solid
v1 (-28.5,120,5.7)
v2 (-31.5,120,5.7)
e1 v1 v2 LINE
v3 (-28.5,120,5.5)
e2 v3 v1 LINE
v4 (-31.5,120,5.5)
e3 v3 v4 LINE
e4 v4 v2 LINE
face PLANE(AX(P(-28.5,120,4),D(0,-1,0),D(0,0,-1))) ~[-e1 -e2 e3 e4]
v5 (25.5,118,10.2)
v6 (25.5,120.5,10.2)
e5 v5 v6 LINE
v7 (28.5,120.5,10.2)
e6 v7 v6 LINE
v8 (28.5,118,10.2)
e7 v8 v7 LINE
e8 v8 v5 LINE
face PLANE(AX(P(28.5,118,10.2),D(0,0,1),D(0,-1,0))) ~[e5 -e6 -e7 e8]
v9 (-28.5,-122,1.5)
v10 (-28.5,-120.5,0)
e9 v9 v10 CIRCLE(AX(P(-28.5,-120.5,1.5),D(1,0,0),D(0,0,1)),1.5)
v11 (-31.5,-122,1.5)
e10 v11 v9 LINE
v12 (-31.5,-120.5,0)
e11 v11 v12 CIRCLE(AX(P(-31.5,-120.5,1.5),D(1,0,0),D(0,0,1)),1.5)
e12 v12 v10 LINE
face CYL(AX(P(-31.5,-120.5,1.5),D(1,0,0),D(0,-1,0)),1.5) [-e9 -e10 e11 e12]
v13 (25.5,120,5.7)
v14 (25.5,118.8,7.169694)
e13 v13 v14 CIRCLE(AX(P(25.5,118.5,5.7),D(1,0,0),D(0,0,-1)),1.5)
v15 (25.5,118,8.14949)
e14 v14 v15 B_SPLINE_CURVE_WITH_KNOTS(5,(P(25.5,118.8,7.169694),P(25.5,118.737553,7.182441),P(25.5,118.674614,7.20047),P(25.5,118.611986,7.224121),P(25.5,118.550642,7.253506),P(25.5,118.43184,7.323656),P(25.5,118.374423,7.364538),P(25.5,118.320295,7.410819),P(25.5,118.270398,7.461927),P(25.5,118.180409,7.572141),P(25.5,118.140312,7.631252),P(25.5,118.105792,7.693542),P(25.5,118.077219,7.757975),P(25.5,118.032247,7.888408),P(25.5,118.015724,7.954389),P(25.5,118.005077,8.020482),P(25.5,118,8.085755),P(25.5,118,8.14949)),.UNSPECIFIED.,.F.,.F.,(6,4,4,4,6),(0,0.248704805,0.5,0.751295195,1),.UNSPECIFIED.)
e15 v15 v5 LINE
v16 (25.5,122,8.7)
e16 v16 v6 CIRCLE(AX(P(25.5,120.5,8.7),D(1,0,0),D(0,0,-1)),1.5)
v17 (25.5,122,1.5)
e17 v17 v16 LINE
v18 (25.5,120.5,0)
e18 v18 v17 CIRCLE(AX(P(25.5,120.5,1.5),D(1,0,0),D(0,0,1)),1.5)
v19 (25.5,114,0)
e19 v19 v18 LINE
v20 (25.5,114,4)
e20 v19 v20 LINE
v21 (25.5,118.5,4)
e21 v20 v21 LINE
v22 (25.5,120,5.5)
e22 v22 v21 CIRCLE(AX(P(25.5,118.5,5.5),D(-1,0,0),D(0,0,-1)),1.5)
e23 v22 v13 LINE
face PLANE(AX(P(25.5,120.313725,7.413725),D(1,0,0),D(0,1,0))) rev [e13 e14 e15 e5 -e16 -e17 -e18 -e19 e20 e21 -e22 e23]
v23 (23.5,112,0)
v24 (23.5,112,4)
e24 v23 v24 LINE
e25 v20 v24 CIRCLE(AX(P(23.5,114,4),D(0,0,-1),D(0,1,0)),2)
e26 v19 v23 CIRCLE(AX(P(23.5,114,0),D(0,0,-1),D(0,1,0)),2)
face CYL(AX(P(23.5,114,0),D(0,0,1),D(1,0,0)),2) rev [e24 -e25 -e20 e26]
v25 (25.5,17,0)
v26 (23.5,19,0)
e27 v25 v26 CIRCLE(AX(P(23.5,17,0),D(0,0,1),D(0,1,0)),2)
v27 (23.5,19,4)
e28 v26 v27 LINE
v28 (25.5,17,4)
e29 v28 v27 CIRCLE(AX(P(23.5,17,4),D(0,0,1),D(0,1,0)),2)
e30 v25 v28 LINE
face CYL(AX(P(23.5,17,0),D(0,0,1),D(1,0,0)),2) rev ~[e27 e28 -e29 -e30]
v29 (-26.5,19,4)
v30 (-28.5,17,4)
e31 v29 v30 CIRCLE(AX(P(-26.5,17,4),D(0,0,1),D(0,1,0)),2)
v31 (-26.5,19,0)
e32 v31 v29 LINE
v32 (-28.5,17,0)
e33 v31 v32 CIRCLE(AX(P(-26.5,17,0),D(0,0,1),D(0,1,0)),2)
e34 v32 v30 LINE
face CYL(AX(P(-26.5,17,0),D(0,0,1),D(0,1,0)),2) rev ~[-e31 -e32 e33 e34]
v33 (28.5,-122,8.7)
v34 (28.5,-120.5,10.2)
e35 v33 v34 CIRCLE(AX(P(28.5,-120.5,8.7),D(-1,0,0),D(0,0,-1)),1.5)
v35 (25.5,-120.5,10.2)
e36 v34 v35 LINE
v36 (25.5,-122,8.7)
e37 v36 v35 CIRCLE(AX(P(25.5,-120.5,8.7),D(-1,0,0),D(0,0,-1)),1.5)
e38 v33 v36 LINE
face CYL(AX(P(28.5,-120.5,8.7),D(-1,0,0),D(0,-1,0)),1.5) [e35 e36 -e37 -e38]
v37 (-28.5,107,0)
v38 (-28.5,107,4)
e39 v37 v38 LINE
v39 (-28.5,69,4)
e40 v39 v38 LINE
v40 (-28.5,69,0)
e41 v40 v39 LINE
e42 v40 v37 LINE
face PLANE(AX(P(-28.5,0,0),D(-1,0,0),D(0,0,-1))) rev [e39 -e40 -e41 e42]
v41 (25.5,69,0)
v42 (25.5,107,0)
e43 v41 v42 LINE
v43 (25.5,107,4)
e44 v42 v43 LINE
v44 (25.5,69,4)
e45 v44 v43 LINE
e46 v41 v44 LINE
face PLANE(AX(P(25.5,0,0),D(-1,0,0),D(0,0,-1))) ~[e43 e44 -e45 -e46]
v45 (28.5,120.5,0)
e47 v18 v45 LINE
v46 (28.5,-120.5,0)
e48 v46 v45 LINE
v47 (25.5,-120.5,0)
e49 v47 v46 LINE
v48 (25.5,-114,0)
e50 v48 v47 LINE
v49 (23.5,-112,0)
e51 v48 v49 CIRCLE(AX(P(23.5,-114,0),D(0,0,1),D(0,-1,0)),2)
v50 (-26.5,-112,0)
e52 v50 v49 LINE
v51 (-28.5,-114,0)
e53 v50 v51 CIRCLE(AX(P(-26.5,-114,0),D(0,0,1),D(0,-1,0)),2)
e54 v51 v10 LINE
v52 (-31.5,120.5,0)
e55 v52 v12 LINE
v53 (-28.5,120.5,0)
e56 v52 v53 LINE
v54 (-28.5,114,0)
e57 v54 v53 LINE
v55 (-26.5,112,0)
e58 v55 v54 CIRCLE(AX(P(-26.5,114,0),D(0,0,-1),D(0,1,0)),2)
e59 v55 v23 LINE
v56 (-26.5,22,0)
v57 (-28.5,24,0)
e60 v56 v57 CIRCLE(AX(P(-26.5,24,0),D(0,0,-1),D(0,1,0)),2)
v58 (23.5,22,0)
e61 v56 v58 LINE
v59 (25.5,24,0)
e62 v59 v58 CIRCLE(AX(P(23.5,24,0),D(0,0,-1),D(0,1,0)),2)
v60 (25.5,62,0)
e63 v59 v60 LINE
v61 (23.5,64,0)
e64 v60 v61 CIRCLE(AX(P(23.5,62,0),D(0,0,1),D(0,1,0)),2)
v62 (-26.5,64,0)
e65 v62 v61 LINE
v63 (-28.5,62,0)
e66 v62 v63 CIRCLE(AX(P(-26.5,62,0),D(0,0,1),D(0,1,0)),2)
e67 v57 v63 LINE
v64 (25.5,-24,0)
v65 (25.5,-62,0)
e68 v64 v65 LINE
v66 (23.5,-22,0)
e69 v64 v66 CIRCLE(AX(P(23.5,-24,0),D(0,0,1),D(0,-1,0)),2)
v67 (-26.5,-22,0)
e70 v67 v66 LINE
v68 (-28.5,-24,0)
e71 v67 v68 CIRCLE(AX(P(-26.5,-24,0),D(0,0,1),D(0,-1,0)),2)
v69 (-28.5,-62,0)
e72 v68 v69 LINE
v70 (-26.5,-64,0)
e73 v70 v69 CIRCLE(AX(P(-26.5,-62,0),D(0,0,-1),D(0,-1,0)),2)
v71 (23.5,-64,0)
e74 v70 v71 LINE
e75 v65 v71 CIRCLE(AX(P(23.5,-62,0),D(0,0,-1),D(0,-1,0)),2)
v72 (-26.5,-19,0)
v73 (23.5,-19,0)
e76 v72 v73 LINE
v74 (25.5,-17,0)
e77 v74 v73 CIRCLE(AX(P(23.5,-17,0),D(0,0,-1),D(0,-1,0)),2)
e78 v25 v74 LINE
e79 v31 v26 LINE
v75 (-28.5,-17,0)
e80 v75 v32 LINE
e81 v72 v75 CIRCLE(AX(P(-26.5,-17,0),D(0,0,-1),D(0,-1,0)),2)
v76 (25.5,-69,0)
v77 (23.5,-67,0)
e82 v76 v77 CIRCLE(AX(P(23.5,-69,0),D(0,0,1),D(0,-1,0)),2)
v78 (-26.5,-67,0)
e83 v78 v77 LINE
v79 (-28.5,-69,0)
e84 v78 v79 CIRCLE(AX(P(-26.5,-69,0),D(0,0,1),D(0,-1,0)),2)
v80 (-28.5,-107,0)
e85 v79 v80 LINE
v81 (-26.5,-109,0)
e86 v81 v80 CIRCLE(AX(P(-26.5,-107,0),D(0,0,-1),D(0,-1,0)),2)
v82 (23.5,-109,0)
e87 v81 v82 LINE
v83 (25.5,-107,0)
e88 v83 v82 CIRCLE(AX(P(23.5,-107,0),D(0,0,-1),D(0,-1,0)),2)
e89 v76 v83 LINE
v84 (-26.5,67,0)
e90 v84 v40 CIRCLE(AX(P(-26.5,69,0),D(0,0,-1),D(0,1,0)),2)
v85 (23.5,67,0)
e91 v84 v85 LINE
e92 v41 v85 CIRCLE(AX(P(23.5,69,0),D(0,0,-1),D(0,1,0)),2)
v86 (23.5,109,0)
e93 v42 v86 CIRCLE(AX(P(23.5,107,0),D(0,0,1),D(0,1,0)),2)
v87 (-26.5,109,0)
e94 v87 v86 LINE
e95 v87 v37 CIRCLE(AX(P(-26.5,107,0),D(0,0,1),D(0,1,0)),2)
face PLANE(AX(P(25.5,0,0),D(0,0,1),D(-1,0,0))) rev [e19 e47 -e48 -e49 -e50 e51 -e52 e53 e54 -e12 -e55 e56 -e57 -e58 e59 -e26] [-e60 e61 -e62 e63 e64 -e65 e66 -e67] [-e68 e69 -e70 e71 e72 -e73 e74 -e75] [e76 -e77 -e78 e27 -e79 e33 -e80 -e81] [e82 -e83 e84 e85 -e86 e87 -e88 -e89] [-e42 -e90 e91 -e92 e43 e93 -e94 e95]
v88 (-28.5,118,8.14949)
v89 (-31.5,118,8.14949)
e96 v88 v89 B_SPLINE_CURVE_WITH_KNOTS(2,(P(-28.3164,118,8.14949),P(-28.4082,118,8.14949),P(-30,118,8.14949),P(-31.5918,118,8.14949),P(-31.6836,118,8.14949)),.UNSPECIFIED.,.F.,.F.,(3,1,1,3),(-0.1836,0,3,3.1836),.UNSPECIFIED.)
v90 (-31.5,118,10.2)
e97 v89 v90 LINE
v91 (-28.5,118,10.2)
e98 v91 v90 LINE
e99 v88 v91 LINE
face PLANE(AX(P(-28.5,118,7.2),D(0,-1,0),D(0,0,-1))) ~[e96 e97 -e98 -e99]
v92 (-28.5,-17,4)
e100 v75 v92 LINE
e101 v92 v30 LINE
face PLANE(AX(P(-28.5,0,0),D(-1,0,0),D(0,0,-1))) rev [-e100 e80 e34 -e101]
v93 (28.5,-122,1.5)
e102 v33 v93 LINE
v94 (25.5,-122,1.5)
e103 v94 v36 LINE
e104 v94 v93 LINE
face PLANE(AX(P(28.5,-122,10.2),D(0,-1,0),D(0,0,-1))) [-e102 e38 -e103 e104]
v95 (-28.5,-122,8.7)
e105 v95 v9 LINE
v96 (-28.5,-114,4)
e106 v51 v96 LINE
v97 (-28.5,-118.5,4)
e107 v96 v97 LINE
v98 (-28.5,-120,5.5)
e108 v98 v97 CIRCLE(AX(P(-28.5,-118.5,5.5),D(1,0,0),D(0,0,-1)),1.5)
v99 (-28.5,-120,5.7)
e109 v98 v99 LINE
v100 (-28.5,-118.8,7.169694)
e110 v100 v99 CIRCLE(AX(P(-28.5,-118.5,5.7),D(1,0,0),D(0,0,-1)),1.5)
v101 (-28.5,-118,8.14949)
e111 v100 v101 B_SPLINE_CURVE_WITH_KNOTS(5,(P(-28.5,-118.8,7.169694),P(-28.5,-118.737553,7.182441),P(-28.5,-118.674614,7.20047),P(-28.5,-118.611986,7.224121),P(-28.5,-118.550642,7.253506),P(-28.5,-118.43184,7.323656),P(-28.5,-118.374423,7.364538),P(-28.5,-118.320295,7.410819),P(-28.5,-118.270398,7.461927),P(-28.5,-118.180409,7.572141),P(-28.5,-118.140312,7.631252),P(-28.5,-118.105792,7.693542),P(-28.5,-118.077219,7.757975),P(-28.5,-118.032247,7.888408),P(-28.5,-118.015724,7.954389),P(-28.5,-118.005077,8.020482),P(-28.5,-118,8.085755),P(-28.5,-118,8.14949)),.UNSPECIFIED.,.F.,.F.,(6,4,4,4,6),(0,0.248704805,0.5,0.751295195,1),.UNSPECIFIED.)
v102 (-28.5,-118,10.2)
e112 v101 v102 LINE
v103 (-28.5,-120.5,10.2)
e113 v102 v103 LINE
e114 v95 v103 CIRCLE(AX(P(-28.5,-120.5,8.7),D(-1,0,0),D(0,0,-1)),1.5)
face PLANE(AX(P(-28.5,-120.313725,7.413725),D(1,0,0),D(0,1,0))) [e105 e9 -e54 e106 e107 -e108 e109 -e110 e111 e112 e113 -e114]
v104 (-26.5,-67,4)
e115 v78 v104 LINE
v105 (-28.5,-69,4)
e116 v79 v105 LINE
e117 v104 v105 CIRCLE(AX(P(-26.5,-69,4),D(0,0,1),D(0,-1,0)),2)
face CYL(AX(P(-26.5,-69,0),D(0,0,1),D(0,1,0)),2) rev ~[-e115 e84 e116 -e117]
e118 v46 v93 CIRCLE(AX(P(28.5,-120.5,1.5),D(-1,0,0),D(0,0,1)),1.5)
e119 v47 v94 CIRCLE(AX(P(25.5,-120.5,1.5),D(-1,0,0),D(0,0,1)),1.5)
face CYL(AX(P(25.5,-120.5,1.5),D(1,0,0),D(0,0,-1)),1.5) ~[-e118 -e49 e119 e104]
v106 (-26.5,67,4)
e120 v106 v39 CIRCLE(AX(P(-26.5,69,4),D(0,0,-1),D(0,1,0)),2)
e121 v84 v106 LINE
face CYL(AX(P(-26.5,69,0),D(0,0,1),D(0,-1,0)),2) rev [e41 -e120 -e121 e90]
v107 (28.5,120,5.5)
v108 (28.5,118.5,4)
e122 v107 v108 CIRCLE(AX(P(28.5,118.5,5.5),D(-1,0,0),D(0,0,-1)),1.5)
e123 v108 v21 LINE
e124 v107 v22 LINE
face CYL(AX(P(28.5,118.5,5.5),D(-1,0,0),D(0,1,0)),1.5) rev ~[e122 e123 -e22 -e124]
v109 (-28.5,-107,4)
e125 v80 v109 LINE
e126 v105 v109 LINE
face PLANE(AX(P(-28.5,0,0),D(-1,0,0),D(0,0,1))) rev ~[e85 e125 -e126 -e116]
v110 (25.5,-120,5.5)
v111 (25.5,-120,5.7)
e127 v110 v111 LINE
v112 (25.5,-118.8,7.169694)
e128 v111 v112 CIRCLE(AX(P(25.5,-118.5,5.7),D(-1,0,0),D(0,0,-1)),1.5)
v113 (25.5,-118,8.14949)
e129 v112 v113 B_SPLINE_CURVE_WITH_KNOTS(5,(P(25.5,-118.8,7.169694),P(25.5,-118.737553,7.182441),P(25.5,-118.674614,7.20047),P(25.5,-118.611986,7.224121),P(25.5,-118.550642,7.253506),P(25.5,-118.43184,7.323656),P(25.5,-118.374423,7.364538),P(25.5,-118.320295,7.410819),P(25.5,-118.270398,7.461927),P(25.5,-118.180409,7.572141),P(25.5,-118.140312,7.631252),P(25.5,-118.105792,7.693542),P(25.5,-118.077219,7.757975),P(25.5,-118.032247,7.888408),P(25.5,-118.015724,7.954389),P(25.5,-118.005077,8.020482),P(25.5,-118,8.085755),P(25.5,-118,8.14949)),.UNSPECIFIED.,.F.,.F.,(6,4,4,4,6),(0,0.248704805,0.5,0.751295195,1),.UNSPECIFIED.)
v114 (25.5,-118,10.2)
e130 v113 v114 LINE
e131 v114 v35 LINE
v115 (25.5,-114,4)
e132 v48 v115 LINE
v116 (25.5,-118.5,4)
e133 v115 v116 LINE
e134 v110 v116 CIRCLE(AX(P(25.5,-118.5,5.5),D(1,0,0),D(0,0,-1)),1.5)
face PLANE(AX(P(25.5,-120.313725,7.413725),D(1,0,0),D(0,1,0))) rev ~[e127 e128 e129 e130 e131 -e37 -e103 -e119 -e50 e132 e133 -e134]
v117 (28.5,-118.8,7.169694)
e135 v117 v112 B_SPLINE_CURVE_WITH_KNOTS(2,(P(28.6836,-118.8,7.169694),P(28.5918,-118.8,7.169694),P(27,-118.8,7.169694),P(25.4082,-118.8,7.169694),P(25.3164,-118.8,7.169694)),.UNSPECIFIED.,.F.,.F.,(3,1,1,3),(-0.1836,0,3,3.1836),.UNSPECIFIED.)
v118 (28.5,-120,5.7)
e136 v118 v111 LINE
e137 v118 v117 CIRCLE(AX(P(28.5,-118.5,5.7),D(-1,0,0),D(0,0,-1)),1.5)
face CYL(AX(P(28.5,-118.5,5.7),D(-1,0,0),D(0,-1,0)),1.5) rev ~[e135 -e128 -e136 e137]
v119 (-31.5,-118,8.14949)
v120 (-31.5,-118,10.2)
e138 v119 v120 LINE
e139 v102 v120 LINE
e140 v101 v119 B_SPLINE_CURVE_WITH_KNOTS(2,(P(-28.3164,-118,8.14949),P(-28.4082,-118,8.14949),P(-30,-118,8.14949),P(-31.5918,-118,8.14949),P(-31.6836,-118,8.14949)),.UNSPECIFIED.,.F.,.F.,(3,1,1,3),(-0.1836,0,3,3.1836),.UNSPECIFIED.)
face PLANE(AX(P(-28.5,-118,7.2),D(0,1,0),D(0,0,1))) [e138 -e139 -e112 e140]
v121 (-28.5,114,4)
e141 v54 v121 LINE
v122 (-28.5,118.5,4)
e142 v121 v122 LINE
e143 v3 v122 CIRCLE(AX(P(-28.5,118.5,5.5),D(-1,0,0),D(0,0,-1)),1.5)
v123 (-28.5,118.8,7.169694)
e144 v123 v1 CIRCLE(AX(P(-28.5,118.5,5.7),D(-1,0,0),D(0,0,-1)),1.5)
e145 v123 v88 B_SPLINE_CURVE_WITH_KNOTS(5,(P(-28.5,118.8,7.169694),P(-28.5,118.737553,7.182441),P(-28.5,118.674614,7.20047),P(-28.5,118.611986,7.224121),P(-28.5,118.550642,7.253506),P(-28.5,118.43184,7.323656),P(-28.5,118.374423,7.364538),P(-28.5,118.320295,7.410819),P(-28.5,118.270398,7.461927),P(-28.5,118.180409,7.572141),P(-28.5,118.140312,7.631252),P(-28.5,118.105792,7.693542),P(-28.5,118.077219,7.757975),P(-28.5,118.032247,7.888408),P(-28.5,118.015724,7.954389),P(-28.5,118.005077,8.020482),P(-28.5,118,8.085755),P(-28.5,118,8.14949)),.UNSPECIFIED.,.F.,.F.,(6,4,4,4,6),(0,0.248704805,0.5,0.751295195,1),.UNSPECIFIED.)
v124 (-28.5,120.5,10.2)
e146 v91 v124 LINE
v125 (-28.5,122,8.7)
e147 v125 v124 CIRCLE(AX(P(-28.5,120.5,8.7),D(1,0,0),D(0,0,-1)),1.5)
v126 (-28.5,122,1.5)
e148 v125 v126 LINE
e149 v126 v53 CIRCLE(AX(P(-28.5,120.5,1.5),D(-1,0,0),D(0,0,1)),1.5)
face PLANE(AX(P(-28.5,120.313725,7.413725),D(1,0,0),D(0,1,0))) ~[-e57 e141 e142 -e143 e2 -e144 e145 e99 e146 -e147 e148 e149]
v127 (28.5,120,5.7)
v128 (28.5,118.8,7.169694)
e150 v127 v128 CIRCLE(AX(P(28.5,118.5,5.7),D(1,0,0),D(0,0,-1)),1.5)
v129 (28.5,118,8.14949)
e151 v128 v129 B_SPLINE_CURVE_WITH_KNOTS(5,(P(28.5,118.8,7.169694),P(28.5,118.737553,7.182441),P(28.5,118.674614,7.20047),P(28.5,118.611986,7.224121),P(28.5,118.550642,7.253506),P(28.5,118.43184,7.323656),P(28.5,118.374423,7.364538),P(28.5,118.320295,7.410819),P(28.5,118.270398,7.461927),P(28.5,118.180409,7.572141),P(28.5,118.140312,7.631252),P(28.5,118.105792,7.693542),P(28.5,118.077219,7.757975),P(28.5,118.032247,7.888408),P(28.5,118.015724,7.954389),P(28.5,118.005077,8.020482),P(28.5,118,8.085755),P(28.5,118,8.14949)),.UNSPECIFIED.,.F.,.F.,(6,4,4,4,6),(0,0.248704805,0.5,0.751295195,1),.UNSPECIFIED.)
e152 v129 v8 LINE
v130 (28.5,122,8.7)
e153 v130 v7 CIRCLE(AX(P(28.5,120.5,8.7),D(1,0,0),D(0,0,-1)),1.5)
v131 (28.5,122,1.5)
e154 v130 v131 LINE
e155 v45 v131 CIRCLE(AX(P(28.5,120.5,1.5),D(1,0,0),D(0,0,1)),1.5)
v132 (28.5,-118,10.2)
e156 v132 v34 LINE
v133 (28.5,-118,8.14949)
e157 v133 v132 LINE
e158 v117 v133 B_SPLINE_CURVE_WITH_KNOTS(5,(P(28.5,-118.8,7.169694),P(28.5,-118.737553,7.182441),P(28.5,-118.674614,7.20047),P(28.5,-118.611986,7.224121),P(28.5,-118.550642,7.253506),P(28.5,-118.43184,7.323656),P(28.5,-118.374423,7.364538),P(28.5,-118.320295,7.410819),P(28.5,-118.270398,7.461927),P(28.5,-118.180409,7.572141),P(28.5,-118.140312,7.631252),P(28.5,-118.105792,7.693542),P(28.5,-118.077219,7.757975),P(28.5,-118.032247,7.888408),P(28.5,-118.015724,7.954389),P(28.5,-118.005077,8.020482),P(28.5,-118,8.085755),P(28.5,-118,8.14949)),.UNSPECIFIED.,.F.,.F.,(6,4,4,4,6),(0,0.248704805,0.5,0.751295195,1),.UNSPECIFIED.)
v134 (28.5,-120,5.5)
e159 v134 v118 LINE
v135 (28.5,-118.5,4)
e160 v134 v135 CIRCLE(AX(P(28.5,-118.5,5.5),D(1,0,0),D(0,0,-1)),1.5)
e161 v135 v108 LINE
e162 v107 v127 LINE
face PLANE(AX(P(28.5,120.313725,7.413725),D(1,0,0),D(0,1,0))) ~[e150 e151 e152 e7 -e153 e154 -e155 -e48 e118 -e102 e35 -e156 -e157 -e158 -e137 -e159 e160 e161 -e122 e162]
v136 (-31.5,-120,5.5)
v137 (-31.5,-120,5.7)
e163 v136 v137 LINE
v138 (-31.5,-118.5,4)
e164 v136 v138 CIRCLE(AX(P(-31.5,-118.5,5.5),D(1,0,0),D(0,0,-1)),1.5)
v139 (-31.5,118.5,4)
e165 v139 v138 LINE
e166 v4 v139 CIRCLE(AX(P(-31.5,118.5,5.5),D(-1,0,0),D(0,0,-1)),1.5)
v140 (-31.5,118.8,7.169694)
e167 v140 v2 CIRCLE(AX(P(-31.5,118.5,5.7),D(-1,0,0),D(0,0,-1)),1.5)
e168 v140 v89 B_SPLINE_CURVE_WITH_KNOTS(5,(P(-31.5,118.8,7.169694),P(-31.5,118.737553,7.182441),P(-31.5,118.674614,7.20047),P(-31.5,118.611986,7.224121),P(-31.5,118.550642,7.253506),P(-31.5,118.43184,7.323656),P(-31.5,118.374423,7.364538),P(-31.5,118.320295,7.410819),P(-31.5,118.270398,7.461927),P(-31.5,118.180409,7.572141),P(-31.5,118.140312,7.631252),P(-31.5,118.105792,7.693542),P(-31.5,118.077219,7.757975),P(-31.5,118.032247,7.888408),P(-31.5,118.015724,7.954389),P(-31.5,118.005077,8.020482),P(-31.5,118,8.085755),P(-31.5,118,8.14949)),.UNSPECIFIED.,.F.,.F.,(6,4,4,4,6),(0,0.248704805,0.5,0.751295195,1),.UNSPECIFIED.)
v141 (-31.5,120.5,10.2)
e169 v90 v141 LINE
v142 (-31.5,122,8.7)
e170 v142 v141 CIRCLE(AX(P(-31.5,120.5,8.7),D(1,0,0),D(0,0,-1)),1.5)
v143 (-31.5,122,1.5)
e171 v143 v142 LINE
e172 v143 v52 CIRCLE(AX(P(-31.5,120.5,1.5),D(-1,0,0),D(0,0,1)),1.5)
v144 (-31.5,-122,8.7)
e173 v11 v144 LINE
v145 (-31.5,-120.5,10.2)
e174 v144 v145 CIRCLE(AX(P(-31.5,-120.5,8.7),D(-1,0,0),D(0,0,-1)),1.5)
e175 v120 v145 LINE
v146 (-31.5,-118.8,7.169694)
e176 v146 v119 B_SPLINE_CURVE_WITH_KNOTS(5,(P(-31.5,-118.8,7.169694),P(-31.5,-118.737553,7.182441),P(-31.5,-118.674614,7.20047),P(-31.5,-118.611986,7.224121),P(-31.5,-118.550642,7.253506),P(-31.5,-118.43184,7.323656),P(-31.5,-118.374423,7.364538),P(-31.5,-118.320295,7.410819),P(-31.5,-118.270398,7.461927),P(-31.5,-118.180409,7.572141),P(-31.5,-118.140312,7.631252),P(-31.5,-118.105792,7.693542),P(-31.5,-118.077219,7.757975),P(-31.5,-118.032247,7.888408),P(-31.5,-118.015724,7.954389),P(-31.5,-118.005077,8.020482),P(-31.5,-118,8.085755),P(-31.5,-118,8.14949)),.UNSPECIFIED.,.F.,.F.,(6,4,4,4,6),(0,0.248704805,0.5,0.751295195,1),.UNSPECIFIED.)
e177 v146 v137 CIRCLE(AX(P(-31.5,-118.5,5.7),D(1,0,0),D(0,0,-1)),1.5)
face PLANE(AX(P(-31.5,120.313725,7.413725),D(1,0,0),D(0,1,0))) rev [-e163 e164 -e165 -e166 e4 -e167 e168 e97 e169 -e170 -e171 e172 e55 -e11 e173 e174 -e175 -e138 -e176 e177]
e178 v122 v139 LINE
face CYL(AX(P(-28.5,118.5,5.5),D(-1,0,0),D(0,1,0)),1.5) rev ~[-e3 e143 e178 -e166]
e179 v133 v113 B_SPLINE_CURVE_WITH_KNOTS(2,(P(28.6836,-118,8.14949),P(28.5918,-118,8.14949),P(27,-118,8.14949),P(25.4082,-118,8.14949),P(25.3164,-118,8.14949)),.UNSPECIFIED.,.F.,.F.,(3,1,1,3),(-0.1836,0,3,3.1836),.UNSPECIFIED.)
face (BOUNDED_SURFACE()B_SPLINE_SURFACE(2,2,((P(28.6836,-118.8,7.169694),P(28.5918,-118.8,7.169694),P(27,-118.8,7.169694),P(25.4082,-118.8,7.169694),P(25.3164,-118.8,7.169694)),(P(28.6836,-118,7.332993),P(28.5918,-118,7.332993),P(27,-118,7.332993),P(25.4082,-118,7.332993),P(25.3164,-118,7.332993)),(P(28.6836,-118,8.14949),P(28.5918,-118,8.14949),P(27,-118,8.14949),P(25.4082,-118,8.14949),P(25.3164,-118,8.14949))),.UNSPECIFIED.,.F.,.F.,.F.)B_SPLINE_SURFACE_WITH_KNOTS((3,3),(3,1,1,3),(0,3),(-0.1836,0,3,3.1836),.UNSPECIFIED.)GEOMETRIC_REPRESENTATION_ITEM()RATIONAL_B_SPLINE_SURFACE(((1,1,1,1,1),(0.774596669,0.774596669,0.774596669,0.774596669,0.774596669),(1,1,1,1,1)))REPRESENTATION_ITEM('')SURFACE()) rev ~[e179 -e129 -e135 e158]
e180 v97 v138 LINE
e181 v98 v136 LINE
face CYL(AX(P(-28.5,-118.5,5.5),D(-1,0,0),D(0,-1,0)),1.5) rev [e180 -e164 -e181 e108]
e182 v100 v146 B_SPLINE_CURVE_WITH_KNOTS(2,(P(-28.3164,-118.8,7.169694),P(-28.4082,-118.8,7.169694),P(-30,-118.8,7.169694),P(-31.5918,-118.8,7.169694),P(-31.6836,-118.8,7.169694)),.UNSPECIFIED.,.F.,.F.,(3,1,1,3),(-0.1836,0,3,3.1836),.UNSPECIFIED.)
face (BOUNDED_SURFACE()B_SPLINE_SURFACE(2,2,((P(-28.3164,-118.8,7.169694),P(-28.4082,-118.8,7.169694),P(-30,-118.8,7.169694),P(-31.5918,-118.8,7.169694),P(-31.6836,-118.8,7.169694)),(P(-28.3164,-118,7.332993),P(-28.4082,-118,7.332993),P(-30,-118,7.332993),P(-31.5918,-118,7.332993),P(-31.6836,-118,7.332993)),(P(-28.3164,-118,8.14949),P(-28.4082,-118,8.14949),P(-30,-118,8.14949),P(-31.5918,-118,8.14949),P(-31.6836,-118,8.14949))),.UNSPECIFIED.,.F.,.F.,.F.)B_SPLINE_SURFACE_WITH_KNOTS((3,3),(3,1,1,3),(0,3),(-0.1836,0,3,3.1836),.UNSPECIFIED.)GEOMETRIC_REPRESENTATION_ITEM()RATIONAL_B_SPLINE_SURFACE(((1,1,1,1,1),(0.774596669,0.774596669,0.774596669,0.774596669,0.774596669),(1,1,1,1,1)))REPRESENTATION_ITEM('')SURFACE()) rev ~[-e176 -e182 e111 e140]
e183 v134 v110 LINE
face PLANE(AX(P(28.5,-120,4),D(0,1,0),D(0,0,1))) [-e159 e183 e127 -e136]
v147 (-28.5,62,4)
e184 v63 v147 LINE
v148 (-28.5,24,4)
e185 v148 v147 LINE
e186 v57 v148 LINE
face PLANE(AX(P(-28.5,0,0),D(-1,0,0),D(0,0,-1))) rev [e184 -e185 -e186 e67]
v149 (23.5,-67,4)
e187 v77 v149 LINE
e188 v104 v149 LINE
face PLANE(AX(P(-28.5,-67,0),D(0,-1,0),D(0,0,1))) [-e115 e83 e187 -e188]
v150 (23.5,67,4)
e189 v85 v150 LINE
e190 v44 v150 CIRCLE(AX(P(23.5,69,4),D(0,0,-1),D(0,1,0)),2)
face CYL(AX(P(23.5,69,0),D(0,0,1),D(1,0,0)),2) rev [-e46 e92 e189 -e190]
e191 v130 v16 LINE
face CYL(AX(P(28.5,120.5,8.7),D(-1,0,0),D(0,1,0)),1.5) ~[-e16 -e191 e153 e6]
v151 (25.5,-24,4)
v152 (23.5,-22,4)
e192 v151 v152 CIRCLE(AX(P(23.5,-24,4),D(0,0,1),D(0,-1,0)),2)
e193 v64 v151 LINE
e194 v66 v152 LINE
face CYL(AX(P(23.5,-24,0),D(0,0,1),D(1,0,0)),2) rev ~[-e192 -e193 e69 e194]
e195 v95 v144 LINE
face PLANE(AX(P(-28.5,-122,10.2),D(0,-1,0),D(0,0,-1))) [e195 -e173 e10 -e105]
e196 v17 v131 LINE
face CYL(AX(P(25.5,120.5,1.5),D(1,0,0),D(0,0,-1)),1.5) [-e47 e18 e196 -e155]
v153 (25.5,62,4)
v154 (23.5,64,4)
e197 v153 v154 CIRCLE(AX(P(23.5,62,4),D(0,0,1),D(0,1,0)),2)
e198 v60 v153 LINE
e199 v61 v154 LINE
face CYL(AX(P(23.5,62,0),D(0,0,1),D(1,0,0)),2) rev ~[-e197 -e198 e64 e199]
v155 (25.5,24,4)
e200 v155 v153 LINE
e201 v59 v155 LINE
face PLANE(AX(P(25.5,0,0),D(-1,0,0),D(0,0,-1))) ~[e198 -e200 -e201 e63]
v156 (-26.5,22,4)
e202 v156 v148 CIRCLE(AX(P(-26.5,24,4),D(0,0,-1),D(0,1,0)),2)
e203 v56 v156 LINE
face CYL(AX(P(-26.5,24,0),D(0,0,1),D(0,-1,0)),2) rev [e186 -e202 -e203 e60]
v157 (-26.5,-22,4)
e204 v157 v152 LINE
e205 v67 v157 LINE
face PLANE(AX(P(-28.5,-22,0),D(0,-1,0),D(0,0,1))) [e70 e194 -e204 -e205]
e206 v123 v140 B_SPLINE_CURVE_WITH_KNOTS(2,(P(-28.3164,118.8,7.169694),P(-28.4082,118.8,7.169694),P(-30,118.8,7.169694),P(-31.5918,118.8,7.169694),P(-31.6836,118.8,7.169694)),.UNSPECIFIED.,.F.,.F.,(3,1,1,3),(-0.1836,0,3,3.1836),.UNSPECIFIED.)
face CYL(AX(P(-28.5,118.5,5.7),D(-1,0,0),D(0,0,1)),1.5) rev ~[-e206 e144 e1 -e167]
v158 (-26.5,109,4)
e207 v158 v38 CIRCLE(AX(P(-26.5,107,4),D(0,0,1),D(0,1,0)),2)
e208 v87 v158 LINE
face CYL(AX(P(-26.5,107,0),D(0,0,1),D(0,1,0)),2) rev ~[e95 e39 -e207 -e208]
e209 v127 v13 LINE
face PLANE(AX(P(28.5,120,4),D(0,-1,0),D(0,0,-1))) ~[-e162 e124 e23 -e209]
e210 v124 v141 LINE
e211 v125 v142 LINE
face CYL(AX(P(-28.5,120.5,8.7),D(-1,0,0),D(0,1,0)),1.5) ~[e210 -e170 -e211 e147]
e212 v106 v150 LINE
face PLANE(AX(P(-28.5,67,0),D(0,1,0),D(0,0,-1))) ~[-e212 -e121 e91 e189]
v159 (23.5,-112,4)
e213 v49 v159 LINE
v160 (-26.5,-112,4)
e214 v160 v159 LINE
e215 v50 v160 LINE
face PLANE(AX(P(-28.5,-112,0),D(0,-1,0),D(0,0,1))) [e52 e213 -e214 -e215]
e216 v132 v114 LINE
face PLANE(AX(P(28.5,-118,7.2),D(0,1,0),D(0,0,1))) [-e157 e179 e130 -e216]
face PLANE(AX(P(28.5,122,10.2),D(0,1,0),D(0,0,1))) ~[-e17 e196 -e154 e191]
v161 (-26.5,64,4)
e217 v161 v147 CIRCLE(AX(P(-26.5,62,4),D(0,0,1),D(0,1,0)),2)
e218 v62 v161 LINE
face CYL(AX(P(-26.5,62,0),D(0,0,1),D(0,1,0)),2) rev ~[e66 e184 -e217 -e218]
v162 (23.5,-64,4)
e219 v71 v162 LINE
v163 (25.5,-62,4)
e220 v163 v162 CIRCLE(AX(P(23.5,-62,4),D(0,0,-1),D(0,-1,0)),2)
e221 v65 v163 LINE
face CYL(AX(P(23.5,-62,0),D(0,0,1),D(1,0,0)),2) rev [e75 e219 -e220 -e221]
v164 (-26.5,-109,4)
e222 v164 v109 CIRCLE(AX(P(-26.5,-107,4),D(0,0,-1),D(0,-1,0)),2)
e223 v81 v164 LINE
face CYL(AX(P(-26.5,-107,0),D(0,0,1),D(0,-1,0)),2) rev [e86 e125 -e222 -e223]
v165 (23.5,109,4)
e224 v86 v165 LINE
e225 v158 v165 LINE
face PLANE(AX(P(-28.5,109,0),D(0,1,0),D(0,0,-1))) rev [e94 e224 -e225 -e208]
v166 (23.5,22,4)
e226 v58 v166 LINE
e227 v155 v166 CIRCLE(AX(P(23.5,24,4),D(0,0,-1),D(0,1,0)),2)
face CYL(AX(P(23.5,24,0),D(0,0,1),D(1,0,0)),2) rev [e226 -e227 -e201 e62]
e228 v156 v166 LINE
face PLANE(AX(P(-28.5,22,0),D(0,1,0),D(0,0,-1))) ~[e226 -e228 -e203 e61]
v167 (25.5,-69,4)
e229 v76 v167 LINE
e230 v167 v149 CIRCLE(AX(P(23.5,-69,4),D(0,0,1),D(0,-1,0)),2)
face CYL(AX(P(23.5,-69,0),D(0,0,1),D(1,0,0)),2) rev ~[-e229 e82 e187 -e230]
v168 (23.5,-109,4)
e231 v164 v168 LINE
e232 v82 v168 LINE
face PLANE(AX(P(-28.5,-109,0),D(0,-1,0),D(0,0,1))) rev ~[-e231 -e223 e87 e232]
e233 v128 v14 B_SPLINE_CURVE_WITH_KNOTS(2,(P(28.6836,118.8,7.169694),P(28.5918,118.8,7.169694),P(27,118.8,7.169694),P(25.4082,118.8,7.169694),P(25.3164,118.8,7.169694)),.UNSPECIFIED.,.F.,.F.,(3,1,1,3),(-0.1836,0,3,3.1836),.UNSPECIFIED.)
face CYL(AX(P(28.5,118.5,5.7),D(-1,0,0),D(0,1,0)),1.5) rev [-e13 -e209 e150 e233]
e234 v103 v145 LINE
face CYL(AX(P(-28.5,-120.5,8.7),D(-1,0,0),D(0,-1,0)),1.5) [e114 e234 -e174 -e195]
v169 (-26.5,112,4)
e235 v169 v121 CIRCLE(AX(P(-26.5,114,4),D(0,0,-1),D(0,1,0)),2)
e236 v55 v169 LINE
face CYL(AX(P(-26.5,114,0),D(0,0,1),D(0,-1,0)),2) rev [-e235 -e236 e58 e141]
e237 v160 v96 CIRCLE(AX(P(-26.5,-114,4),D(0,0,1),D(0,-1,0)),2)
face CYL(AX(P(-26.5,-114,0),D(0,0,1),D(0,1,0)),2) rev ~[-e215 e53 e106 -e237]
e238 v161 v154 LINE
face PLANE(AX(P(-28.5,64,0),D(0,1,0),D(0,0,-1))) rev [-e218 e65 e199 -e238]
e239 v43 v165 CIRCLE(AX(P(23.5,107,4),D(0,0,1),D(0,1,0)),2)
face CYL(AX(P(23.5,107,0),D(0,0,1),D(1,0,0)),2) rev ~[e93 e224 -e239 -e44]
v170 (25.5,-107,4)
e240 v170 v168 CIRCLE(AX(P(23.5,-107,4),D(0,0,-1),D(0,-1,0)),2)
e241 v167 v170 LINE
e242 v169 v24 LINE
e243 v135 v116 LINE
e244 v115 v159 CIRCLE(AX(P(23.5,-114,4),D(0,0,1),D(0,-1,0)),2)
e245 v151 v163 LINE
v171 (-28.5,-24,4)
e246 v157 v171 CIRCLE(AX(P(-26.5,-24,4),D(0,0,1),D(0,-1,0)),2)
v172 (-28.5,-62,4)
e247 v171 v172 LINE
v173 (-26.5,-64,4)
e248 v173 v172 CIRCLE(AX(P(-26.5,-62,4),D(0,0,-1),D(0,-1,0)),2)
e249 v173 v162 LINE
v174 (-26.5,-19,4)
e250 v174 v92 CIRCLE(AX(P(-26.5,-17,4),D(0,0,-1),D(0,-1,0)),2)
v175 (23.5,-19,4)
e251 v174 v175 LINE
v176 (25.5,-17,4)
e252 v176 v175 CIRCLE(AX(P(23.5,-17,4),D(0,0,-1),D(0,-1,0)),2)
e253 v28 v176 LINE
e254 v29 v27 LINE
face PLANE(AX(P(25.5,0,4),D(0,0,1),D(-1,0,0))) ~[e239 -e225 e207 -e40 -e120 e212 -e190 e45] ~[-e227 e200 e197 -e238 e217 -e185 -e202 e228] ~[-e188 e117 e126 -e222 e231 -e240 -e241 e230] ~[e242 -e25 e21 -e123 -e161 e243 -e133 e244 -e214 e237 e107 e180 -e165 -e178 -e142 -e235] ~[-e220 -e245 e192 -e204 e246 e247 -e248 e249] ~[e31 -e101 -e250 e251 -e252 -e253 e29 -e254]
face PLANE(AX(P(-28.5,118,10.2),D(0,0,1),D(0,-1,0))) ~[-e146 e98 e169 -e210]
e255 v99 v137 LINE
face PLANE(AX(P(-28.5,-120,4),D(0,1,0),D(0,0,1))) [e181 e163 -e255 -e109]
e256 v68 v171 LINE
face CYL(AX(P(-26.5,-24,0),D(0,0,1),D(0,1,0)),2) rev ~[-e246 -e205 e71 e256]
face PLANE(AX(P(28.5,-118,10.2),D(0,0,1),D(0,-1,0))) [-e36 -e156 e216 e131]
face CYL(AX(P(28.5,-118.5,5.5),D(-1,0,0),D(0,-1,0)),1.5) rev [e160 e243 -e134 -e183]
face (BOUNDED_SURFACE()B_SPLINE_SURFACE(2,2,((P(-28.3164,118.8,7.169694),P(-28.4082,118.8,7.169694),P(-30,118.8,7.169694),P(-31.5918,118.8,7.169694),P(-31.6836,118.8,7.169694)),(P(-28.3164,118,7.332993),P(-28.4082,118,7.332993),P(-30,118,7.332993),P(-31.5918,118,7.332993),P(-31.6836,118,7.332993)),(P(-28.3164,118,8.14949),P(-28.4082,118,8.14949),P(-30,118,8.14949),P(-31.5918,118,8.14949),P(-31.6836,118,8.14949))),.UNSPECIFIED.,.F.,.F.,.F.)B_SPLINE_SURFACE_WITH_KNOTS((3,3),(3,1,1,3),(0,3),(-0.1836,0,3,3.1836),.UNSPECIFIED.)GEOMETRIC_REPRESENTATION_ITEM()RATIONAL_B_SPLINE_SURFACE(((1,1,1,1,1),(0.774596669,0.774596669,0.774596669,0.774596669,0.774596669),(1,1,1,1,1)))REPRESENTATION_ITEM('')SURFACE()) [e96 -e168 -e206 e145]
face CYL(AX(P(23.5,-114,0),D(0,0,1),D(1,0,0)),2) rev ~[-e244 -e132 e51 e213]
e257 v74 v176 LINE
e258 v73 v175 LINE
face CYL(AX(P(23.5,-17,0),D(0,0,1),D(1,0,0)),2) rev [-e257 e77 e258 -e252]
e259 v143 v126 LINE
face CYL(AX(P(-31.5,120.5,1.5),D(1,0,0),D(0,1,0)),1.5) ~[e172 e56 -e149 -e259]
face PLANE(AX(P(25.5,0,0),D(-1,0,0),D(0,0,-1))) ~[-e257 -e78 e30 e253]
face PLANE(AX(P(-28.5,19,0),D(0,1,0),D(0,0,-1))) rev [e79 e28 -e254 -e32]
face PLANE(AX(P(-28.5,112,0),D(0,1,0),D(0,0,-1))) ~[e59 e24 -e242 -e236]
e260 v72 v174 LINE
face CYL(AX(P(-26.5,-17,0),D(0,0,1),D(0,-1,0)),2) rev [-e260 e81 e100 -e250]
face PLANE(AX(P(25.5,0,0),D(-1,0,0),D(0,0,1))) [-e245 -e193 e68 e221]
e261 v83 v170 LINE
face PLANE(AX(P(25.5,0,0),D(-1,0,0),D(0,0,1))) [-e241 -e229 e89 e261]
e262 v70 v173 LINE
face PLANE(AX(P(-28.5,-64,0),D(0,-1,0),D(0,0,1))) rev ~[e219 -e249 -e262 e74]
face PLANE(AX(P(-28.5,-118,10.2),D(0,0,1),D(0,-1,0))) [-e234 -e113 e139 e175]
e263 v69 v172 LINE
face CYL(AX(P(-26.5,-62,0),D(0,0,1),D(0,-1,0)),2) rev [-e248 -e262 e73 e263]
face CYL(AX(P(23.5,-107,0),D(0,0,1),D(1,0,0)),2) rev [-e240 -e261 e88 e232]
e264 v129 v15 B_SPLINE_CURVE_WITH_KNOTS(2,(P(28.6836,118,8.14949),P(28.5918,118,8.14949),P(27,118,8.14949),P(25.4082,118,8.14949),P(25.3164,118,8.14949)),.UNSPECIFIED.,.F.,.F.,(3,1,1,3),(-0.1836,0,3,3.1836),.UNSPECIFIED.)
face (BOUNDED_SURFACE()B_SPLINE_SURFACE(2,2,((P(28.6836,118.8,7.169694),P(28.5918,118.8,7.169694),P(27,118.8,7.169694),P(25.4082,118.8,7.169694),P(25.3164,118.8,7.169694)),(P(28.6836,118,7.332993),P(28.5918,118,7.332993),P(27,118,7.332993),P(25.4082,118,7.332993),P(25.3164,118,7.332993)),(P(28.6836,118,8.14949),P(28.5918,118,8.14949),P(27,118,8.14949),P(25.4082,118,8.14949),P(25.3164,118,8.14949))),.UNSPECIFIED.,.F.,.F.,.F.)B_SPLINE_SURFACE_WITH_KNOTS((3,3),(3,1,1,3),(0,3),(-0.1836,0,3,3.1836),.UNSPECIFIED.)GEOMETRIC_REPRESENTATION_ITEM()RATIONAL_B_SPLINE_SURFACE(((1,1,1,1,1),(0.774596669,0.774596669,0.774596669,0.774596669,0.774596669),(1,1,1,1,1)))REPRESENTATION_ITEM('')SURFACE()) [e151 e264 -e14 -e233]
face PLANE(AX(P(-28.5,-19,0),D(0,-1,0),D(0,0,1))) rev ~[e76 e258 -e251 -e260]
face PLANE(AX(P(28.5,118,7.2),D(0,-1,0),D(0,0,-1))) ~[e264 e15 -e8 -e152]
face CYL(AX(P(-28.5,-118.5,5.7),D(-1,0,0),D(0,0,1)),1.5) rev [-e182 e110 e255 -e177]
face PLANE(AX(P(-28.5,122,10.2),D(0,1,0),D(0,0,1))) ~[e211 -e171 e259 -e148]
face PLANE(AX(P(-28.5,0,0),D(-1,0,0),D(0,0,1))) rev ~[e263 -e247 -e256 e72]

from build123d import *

# Parameters (mm, degrees)
F0_W     = 3
F0_H     = 4
F1_DEPTH = 122
F2_W     = 3
F2_H     = 4
F3_DEPTH = 54
F6_DEPTH = 3
F8_DEPTH = 3
F9_R     = 1.5
F10_R    = 1
F11_R    = 2


with BuildPart() as f1:
    # F0 (on Front) → F1 (new body)
    with BuildSketch(Plane.XZ):
        with Locations((-30, 2)):
            Rectangle(F0_W, F0_H)
    extrude(amount=F1_DEPTH)


with BuildPart() as f1b:
    # F0 (on Front) → F1, piece 2 (new body)
    with BuildSketch(Plane.XZ):
        with Locations((27, 2)):
            Rectangle(F0_W, F0_H)
    extrude(amount=F1_DEPTH)


with BuildPart() as f3:
    # F2 (on face) → F3 (new body, through all)
    with BuildSketch(Plane.YZ.offset(-28.5)):
        with Locations((-110.5, 2)):
            Rectangle(F2_W, F2_H)
    extrude(amount=F3_DEPTH)


with BuildPart() as f3b:
    # F2 (on face) → F3, piece 2 (new body, through all)
    with BuildSketch(Plane.YZ.offset(-28.5)):
        with Locations((-65.5, 2)):
            Rectangle(F2_W, F2_H)
    extrude(amount=F3_DEPTH)


with BuildPart() as f3c:
    # F2 (on face) → F3, piece 3 (new body, through all)
    with BuildSketch(Plane.YZ.offset(-28.5)):
        with Locations((-20.5, 2)):
            Rectangle(F2_W, F2_H)
    extrude(amount=F3_DEPTH)


with BuildPart() as f1_1:
    add(f1.part)

    # F4: union F1b, F3, F3b, F3c
    add(f1b.part)
    add(f3.part)
    add(f3b.part)
    add(f3c.part)

    # F5 (on face) → F6 (join, through all)
    with BuildSketch(Plane.YZ.offset(-28.5)):
        Polygon((-122, 7.2), (-122, 4), (-120, 4), (-120, 7.2), (-118, 7.2), (-118, 10.2), (-122, 10.2), align=None)
    extrude(amount=-F6_DEPTH)

    # F7 (on face) → F8 (join, through all)
    with BuildSketch(Plane.YZ.offset(28.5)):
        Polygon((-122, 7.2), (-122, 4), (-120, 4), (-120, 7.2), (-118, 7.2), (-118, 10.2), (-122, 10.2), align=None)
    extrude(amount=-F8_DEPTH)

    # F9
    f9_edges = [f1_1.edges().sort_by_distance(p)[0] for p in [
        (-30, -122, 0),
        (27, -122, 0),
        (27, -122, 10.2),
        (-30, -122, 10.2),
        (27, -120, 4),
        (27, -120, 7.2),
        (-30, -120, 4),
        (-30, -120, 7.2),
    ]]
    fillet(f9_edges, radius=F9_R)

    # F10
    f10_edges = [f1_1.edges().sort_by_distance(p)[0] for p in [
        (-30, -118, 7.2),
        (27, -118, 7.2),
    ]]
    fillet(f10_edges, radius=F10_R)

    # F11
    f11_edges = [f1_1.edges().sort_by_distance(p)[0] for p in [
        (-28.5, -109, 2),
        (-28.5, -64, 2),
        (25.5, -109, 2),
        (25.5, -22, 2),
        (25.5, -67, 2),
        (-28.5, -67, 2),
        (-28.5, -22, 2),
        (-28.5, -19, 2),
        (-28.5, -112, 2),
        (25.5, -112, 2),
        (25.5, -64, 2),
        (25.5, -19, 2),
    ]]
    fillet(f11_edges, radius=F11_R)

    # F12: F1 across plane


with BuildPart() as f1_2:
    add(f1_1.part)
    add(f1_1.part.mirror(Plane.XZ))


solid = f1_2.part
